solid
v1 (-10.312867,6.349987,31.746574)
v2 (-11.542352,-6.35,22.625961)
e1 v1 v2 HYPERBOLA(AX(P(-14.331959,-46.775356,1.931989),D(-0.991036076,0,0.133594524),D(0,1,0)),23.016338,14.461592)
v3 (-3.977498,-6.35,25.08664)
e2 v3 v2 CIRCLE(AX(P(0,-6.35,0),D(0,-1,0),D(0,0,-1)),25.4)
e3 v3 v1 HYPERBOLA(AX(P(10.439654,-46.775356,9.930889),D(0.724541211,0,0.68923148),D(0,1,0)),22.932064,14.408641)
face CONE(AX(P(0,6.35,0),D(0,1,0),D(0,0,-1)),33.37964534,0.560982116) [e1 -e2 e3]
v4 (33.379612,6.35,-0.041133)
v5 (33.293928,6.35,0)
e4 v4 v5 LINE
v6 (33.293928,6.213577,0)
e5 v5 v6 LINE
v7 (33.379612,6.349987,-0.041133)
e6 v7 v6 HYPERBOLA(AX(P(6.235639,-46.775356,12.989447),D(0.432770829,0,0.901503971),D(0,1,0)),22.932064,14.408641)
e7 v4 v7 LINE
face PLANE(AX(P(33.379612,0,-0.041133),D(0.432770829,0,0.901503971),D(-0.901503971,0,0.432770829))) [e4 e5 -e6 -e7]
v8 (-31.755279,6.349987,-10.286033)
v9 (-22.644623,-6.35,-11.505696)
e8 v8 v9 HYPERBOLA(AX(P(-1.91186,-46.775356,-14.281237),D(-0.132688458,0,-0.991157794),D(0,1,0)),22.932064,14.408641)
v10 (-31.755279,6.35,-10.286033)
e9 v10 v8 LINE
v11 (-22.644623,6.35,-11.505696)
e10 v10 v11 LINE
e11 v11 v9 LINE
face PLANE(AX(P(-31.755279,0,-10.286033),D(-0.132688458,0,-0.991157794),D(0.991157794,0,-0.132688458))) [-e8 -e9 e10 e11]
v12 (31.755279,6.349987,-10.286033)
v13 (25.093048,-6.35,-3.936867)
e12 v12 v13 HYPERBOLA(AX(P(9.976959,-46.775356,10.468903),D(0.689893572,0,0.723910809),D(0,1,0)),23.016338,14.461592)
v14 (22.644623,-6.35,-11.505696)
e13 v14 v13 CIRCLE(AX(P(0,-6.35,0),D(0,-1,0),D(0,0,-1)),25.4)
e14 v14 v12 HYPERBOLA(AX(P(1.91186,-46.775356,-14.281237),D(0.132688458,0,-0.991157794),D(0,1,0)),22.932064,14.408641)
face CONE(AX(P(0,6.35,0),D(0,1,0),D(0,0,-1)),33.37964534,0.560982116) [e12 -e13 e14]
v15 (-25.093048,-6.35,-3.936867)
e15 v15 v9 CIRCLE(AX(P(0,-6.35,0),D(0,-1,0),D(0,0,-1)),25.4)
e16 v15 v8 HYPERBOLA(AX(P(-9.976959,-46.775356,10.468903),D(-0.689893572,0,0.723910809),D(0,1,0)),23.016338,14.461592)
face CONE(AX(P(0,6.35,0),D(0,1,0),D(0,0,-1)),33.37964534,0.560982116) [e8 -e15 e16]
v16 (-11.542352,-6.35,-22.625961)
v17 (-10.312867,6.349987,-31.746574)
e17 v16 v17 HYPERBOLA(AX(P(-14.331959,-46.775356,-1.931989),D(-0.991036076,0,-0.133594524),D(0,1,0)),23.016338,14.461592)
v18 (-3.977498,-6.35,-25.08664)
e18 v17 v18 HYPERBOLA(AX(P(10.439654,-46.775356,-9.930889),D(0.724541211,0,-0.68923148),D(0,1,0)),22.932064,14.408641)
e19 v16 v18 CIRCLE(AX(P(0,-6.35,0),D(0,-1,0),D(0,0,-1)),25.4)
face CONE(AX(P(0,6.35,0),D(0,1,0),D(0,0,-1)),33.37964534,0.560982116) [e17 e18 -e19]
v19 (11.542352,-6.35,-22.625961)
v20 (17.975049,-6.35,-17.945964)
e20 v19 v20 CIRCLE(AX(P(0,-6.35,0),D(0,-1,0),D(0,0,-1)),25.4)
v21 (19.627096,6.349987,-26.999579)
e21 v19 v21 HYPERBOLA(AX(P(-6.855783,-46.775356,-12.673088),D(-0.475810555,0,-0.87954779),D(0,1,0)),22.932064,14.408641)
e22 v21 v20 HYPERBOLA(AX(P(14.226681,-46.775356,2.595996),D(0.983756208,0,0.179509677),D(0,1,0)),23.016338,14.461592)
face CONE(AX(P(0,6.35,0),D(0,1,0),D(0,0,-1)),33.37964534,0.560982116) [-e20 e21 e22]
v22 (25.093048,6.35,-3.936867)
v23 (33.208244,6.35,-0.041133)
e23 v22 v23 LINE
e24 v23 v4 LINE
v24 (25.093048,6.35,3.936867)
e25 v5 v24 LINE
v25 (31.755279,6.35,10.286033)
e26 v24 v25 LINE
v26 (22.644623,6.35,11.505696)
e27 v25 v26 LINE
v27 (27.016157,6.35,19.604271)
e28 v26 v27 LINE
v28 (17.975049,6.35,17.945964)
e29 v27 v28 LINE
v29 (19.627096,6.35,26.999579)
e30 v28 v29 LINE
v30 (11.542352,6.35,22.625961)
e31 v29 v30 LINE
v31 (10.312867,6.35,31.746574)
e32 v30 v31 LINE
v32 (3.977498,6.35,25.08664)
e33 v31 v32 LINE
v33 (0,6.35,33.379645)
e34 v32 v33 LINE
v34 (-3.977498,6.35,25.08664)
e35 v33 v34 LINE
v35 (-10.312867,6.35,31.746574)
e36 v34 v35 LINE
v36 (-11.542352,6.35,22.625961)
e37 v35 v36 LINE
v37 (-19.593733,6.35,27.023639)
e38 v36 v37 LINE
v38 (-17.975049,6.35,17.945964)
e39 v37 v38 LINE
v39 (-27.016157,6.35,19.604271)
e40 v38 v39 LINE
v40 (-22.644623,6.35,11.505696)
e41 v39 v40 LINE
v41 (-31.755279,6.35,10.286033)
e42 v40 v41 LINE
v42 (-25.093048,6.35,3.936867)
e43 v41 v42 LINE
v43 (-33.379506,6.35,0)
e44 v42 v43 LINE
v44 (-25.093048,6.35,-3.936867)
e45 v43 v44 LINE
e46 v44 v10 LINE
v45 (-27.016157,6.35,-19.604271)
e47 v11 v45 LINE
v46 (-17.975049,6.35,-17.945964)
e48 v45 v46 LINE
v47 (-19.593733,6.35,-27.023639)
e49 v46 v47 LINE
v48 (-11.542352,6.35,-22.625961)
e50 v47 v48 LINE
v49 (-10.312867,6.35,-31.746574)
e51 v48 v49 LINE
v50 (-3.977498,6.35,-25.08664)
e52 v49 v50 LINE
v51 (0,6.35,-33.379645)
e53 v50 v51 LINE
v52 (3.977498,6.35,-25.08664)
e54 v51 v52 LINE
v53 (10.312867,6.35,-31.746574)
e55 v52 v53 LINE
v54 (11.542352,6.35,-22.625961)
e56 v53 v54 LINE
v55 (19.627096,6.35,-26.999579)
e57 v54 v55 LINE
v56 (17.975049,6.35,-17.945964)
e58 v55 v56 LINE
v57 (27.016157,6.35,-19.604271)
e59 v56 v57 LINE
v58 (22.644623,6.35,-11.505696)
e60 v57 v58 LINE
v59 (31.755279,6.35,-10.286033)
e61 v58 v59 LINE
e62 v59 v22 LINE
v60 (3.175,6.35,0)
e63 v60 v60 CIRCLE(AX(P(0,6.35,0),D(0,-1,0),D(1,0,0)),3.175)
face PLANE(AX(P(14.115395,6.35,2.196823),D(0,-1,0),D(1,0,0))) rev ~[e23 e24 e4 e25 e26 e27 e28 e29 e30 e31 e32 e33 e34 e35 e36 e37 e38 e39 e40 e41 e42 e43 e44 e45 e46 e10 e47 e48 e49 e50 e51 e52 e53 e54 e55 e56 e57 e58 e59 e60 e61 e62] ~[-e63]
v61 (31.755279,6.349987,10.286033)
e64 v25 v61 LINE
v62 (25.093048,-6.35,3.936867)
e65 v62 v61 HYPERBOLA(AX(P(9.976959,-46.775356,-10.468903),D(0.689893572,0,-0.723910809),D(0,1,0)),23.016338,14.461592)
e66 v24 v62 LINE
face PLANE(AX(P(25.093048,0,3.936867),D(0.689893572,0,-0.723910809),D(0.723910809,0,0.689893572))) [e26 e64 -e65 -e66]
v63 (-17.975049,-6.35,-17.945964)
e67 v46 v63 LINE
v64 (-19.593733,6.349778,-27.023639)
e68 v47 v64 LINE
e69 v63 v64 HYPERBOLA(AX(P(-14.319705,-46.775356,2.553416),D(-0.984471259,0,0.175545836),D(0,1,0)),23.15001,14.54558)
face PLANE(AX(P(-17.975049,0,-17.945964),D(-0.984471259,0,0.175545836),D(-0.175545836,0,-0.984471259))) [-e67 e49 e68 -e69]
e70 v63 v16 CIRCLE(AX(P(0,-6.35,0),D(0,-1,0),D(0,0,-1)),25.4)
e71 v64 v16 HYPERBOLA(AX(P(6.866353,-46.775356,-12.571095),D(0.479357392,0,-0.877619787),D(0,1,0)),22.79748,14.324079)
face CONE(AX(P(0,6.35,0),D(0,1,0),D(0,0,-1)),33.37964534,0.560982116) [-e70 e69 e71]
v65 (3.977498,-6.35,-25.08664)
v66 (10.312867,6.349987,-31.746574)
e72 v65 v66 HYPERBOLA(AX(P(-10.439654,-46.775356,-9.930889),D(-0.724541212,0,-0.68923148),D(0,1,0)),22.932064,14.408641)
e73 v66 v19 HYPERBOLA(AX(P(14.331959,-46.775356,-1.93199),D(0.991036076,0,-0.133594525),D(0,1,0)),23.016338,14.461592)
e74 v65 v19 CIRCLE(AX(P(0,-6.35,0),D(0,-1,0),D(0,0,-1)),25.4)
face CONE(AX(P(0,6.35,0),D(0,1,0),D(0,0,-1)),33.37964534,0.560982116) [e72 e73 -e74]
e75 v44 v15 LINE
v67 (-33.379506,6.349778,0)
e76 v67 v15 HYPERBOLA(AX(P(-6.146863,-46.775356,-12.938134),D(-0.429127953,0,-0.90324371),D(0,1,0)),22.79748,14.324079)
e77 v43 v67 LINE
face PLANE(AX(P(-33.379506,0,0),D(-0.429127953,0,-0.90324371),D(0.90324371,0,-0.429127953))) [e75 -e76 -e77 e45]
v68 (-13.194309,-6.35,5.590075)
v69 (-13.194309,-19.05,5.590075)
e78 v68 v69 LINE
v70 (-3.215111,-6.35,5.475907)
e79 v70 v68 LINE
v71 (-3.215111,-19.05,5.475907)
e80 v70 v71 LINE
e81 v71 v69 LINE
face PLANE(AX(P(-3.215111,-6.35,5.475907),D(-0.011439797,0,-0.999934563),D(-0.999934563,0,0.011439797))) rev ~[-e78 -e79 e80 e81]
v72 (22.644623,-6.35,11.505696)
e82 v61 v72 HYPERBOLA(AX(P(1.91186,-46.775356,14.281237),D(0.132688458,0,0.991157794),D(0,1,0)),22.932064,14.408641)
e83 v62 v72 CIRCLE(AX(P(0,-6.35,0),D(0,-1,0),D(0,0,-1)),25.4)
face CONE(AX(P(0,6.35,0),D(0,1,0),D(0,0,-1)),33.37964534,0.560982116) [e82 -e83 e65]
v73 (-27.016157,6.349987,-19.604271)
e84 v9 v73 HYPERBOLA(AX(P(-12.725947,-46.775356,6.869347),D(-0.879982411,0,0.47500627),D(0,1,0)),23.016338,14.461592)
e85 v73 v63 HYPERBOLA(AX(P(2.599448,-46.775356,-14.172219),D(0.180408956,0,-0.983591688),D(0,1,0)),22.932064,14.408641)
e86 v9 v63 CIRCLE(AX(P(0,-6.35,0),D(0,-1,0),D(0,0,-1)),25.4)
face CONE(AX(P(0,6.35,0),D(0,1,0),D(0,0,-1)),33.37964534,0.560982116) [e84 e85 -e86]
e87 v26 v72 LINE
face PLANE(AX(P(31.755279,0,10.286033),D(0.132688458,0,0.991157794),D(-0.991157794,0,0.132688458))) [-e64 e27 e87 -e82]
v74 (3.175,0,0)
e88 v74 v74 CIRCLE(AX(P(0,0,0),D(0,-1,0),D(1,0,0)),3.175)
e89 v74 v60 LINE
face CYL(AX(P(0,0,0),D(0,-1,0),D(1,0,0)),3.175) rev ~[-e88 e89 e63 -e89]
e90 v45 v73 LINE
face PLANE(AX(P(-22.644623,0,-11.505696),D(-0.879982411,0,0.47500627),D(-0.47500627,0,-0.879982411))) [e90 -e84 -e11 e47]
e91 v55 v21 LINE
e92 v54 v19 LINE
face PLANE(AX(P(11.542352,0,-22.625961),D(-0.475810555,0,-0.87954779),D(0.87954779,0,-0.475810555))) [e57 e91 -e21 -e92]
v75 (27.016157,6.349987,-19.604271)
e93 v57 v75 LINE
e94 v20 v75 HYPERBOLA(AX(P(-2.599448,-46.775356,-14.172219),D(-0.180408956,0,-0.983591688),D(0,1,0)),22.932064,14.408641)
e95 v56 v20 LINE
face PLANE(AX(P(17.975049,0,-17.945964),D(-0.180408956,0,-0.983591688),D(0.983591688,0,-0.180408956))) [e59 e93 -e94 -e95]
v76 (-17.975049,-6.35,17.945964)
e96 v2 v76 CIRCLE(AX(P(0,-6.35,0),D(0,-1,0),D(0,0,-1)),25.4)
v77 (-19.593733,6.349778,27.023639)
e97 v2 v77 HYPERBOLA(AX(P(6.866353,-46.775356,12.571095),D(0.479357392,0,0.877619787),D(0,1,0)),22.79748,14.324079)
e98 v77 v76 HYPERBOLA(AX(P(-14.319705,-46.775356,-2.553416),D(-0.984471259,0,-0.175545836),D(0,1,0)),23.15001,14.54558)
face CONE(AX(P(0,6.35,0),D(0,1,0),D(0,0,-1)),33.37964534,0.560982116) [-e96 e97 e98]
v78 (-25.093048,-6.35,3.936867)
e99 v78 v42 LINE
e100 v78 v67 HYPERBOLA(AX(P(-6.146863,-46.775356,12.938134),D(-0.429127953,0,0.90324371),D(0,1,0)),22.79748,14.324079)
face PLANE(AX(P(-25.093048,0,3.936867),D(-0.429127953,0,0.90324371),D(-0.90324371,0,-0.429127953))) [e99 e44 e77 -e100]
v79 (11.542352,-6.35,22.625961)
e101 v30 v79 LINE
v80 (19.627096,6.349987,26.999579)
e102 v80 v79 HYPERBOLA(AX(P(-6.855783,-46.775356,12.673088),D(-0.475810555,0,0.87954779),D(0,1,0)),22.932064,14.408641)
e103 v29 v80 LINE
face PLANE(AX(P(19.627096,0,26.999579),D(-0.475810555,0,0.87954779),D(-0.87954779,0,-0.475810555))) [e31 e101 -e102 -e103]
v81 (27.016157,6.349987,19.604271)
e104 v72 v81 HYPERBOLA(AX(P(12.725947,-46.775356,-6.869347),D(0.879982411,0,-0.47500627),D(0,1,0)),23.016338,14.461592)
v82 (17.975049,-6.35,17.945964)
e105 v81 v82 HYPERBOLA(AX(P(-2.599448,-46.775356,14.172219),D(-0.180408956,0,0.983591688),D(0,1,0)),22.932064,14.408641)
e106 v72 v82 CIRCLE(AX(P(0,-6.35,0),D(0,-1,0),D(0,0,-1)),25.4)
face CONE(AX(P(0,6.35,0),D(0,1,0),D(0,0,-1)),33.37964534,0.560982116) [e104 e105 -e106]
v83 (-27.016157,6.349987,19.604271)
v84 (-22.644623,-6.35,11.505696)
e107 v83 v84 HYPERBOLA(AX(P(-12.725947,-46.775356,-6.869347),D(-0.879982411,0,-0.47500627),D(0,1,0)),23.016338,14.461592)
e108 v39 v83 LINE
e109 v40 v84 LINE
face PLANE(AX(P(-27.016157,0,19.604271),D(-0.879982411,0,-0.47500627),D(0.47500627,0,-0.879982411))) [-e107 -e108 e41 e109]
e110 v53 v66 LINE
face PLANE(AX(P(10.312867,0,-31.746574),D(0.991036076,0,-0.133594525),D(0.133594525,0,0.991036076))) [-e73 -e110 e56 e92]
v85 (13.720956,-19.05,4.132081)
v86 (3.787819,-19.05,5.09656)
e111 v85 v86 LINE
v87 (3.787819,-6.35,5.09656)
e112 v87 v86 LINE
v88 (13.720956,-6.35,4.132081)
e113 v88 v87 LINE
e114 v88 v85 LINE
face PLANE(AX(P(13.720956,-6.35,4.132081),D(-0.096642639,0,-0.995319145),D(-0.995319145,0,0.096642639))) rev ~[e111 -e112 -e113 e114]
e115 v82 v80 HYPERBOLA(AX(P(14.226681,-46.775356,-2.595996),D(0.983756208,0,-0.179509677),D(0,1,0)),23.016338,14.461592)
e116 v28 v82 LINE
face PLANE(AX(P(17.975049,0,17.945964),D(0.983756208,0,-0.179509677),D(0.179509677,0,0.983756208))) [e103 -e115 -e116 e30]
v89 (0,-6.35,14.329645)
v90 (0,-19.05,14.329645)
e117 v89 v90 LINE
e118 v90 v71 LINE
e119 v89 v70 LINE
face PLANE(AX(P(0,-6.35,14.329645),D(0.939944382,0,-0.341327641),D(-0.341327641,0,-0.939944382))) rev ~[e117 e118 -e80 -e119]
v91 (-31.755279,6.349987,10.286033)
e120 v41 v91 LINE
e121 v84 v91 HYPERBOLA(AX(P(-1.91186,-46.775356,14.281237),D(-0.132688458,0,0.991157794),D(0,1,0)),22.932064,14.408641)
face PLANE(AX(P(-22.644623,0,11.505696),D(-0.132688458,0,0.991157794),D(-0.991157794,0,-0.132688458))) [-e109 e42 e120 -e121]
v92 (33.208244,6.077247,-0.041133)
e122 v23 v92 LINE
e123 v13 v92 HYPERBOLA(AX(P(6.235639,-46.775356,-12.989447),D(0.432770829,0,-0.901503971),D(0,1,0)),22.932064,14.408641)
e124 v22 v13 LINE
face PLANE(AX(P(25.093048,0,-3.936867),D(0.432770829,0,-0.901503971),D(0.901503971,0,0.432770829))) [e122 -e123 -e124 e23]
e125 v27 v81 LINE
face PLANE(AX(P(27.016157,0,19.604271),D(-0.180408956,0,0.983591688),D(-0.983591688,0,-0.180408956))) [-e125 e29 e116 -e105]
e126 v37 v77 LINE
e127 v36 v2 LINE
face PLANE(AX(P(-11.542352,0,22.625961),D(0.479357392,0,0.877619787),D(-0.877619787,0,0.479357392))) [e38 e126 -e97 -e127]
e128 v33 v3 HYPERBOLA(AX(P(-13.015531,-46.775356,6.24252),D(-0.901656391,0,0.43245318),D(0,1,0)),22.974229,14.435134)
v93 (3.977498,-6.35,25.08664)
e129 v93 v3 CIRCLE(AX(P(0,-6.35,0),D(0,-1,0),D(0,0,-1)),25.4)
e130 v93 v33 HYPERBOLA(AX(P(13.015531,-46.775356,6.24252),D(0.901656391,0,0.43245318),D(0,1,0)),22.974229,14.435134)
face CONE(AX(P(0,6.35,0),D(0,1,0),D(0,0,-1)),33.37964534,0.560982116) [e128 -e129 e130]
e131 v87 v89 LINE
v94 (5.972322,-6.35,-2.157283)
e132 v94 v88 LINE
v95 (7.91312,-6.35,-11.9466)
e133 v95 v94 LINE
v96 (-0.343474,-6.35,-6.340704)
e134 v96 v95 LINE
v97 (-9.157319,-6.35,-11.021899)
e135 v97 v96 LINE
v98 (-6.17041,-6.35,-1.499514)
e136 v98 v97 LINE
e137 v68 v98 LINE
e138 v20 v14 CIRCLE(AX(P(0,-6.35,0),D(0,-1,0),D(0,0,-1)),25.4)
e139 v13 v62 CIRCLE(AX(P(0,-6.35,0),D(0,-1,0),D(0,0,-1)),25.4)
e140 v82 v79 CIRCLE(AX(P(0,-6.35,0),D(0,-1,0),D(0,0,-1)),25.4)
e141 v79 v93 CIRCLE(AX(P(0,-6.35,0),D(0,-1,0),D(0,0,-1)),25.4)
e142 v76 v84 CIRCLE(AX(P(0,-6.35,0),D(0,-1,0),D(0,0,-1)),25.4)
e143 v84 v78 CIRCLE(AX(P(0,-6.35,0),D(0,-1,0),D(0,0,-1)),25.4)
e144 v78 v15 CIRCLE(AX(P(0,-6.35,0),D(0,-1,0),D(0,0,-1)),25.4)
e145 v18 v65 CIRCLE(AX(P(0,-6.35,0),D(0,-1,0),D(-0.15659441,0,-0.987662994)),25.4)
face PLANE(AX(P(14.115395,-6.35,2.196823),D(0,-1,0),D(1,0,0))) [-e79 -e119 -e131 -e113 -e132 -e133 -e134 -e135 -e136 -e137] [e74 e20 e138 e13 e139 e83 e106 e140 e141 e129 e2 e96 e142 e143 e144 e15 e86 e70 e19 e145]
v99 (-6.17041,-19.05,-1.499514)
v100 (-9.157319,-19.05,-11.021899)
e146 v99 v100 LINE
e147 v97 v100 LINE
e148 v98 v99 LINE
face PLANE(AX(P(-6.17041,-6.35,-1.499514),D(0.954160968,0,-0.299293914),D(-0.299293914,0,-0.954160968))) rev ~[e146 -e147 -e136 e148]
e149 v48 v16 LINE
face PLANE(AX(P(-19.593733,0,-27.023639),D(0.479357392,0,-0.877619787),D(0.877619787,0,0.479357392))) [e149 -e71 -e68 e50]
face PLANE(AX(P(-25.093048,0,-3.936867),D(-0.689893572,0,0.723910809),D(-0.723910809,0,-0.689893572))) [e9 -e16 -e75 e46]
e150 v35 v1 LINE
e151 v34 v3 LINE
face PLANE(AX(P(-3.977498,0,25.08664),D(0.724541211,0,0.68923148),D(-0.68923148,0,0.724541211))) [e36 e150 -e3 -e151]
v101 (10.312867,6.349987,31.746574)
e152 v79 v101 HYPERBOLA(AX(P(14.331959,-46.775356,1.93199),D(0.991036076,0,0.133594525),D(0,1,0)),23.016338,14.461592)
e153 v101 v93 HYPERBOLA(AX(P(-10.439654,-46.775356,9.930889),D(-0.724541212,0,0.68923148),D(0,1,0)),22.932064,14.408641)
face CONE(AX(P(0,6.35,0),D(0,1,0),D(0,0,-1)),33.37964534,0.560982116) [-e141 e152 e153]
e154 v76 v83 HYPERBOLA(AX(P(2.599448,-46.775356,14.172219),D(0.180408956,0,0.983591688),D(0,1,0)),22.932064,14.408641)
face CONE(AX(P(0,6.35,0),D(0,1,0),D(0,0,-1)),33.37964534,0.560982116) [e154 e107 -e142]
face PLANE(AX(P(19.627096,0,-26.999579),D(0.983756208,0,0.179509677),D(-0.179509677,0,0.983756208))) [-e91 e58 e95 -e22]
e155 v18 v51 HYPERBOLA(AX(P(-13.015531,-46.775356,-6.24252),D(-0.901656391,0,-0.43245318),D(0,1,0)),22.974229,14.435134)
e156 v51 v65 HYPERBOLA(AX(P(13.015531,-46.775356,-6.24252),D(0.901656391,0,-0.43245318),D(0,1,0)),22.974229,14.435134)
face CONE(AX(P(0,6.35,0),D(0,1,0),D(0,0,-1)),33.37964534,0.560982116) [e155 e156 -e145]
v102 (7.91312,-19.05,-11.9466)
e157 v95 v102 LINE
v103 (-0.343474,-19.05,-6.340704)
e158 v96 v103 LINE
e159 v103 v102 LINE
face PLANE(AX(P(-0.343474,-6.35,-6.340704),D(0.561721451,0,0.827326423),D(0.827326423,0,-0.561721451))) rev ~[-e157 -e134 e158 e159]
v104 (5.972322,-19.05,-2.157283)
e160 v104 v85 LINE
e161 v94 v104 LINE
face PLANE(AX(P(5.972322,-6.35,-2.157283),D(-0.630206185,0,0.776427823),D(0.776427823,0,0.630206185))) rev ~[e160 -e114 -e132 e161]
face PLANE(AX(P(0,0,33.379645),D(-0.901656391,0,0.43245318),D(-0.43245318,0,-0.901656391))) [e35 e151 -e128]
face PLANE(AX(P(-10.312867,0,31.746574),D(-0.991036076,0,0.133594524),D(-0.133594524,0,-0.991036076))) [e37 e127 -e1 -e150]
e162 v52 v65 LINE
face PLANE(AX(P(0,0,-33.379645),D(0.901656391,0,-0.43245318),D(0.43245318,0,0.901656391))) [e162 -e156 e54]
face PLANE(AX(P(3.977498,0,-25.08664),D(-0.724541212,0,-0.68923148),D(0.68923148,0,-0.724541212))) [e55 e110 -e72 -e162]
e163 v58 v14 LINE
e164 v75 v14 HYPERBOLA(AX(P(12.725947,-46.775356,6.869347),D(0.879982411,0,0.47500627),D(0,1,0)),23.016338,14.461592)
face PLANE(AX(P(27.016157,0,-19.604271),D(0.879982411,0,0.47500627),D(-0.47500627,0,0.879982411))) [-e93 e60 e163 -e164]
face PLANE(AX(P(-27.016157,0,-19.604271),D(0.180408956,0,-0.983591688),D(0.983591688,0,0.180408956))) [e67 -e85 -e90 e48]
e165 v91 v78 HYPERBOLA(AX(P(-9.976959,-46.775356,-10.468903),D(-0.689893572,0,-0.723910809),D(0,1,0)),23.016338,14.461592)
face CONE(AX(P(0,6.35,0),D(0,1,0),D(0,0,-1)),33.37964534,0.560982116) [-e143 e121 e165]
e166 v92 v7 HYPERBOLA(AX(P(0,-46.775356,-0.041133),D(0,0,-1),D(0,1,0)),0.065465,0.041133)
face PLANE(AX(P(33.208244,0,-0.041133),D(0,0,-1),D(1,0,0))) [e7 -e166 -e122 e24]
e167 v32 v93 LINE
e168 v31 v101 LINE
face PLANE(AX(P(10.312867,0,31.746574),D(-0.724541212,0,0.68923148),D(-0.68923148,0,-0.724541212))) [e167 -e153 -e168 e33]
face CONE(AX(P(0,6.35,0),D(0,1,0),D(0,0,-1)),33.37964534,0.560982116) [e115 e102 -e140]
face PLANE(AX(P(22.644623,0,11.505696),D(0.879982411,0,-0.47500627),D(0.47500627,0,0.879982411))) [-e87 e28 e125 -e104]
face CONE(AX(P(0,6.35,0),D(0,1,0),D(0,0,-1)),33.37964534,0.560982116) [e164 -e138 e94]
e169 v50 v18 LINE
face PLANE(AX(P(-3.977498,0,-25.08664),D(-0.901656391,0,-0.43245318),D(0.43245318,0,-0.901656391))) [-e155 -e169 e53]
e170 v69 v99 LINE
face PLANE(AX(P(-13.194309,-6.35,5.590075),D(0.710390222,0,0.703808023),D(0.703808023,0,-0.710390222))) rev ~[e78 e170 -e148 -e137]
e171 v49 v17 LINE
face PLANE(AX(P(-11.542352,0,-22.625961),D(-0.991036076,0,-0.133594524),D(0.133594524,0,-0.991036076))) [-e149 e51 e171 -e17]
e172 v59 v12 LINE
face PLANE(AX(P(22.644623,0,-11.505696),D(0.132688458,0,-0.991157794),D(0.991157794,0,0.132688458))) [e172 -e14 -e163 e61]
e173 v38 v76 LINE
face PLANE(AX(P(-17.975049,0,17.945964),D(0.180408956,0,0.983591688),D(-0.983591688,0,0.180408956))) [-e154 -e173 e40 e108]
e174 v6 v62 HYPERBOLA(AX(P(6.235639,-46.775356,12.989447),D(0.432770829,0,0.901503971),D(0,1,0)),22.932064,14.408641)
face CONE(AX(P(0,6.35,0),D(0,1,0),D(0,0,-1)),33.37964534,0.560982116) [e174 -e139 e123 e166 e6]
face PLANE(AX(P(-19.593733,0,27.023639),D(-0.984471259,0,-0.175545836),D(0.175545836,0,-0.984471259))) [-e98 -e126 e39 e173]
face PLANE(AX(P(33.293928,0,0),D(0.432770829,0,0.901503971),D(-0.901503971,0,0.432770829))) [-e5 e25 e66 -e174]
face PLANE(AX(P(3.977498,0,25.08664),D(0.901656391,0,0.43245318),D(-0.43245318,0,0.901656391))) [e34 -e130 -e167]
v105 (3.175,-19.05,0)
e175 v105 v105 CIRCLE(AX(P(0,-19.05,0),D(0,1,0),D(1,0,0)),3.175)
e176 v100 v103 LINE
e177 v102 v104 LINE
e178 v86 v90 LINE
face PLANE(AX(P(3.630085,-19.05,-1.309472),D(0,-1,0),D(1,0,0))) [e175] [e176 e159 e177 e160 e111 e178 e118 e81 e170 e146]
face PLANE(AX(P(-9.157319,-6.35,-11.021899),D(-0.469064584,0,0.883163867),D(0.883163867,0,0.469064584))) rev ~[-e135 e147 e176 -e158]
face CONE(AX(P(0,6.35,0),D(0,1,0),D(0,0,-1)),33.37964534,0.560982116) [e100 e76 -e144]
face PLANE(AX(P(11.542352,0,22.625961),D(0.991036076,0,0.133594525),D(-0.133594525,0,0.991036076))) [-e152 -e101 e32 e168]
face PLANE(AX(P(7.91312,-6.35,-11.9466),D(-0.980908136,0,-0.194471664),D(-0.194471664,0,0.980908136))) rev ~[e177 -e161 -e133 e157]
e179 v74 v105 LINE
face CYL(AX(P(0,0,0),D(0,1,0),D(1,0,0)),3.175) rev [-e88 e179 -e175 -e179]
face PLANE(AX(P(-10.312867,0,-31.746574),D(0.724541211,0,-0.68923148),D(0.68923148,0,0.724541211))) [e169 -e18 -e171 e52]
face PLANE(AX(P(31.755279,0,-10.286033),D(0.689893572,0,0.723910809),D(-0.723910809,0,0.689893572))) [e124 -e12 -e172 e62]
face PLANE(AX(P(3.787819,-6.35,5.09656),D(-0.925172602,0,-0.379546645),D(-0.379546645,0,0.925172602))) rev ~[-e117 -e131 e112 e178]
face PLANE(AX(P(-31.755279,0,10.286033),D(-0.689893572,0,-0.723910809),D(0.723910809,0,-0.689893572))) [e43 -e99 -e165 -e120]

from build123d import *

# Parameters (mm, degrees)
F1_DEPTH = 6.35
F6_DEPTH = 12.7
F5_R     = 3.175
F7_DEPTH = 63.5


with BuildPart() as f1:
    # F0 (on Front) → F1 (new body, symmetric)
    with BuildSketch(Plane.XZ):
        with BuildLine():
            ThreePointArc((25.3999666944, -0.0411329817), (25.3999916736, -0.0205664976), (25.4, 0))
            ThreePointArc((25.4, 0), (25.3231458192, 1.9744077138), (25.0930483606, 3.9368672789))
            ThreePointArc((25.0930483606, 3.9368672789), (24.706334539, 5.8955096173), (24.1669838755, 7.8177292331))
            Line((24.1669838755, 7.8177292331), (0.0326778328, -0.0326249568))
            Line((0.0326778328, -0.0326249568), (0.0299255888, -0.0411329817))
            Line((0.0299255888, -0.0411329817), (25.3999666944, -0.0411329817))
        make_face()
        with BuildLine():
            ThreePointArc((25.0930483606, 3.9368672789), (25.3231458192, 1.9744077138), (25.4, 0))
            ThreePointArc((25.4, 0), (25.3999916736, -0.0205664976), (25.3999666944, -0.0411329817))
            Line((25.3999666944, -0.0411329817), (33.2082439851, -0.0411329817))
            Line((33.2082439851, -0.0411329817), (33.2939280097, 0))
            Line((33.2939280097, 0), (25.0930483606, 3.9368672789))
        make_face()
        with BuildLine():
            ThreePointArc((24.1669838755, 7.8177292331), (24.706334539, 5.8955096173), (25.0930483606, 3.9368672789))
            Line((25.0930483606, 3.9368672789), (31.7552785313, 10.2860330974))
            Line((31.7552785313, 10.2860330974), (24.1669838755, 7.8177292331))
        make_face()
        with BuildLine():
            Line((33.2082439851, -0.0411329817), (25.3999666944, -0.0411329817))
            ThreePointArc((25.3999666944, -0.0411329817), (25.3215388309, -1.994911335), (25.0930483606, -3.9368672789))
            Line((25.0930483606, -3.9368672789), (33.2082439851, -0.0411329817))
        make_face()
        with BuildLine():
            ThreePointArc((25.0930483606, -3.9368672789), (25.3215388309, -1.994911335), (25.3999666944, -0.0411329817))
            Line((25.3999666944, -0.0411329817), (0.0299255888, -0.0411329817))
            Line((0.0299255888, -0.0411329817), (0.0264556072, -0.0518597526))
            Line((0.0264556072, -0.0518597526), (24.1415369557, -7.895960576))
            ThreePointArc((24.1415369557, -7.895960576), (24.6967549032, -5.9355115407), (25.0930483606, -3.9368672789))
        make_face()
        with BuildLine():
            Line((0.0326778328, -0.0326249568), (24.1669838755, 7.8177292331))
            ThreePointArc((24.1669838755, 7.8177292331), (23.4783285027, 9.6916505673), (22.6446229644, 11.5056964501))
            ThreePointArc((22.6446229644, 11.5056964501), (21.6710179307, 13.2486596246), (20.5635283771, 14.9097719863))
            Line((20.5635283771, 14.9097719863), (0.0350181754, -0.0253902444))
            Line((0.0350181754, -0.0253902444), (0.0326778328, -0.0326249568))
        make_face()
        with BuildLine():
            ThreePointArc((22.6446229644, 11.5056964501), (23.4783285027, 9.6916505673), (24.1669838755, 7.8177292331))
            Line((24.1669838755, 7.8177292331), (31.7552785313, 10.2860330974))
            Line((31.7552785313, 10.2860330974), (22.6446229644, 11.5056964501))
        make_face()
        Polygon((33.3796120343, -0.0411329817), (33.2939280097, 0), (33.2082439851, -0.0411329817), align=None)
        with BuildLine():
            Line((31.7552785313, -10.2860330974), (25.0930483606, -3.9368672789))
            ThreePointArc((25.0930483606, -3.9368672789), (24.6967549032, -5.9355115407), (24.1415369557, -7.895960576))
            ThreePointArc((24.1415369557, -7.895960576), (23.4626029734, -9.7296588694), (22.6446229644, -11.5056964501))
            Line((22.6446229644, -11.5056964501), (31.7552785313, -10.2860330974))
        make_face()
        with BuildLine():
            ThreePointArc((20.5635283771, 14.9097719863), (21.6710179307, 13.2486596246), (22.6446229644, 11.5056964501))
            Line((22.6446229644, 11.5056964501), (27.0161574965, 19.6042705962))
            Line((27.0161574965, 19.6042705962), (20.5635283771, 14.9097719863))
        make_face()
        with BuildLine():
            ThreePointArc((22.6446229644, -11.5056964501), (23.4626029734, -9.7296588694), (24.1415369557, -7.895960576))
            Line((24.1415369557, -7.895960576), (0.0264556072, -0.0518597526))
            Line((0.0264556072, -0.0518597526), (0.0216754409, -0.0666367035))
            Line((0.0216754409, -0.0666367035), (20.5151305555, -14.9762952125))
            ThreePointArc((20.5151305555, -14.9762952125), (21.6495345196, -13.283736488), (22.6446229644, -11.5056964501))
        make_face()
        with BuildLine():
            Line((0.0350181754, -0.0253902444), (20.5635283771, 14.9097719863))
            ThreePointArc((20.5635283771, 14.9097719863), (19.3289964238, 16.4787711086), (17.9750490644, 17.9459636446))
            ThreePointArc((17.9750490644, 17.9459636446), (16.5100510465, 19.302285213), (14.9430531934, 20.5393563984))
            Line((14.9430531934, 20.5393563984), (0.0371289603, -0.0188651649))
            Line((0.0371289603, -0.0188651649), (0.0350181754, -0.0253902444))
        make_face()
        with BuildLine():
            ThreePointArc((17.9750490644, 17.9459636446), (19.3289964238, 16.4787711086), (20.5635283771, 14.9097719863))
            Line((20.5635283771, 14.9097719863), (27.0161574965, 19.6042705962))
            Line((27.0161574965, 19.6042705962), (17.9750490644, 17.9459636446))
        make_face()
        with BuildLine():
            Line((27.0161574965, -19.6042705962), (22.6446229644, -11.5056964501))
            ThreePointArc((22.6446229644, -11.5056964501), (21.6495345196, -13.283736488), (20.5151305555, -14.9762952125))
            ThreePointArc((20.5151305555, -14.9762952125), (19.302285213, -16.5100510465), (17.9750490644, -17.9459636446))
            Line((17.9750490644, -17.9459636446), (27.0161574965, -19.6042705962))
        make_face()
        with BuildLine():
            Line((20.5151305555, -14.9762952125), (0.0216754409, -0.0666367035))
            Line((0.0216754409, -0.0666367035), (0.0142195958, -0.0896849932))
            Line((0.0142195958, -0.0896849932), (14.8764516786, -20.5876464282))
            ThreePointArc((14.8764516786, -20.5876464282), (16.4787711086, -19.3289964238), (17.9750490644, -17.9459636446))
            ThreePointArc((17.9750490644, -17.9459636446), (19.302285213, -16.5100510465), (20.5151305555, -14.9762952125))
        make_face()
        with BuildLine():
            ThreePointArc((14.9430531934, 20.5393563984), (16.5100510465, 19.302285213), (17.9750490644, 17.9459636446))
            Line((17.9750490644, 17.9459636446), (19.6270962066, 26.9995793667))
            Line((19.6270962066, 26.9995793667), (14.9430531934, 20.5393563984))
        make_face()
        with BuildLine():
            Line((0.0294725544, -0.0294248649), (0.0371289603, -0.0188651649))
            Line((0.0371289603, -0.0188651649), (7.8568552068, 24.1542920877))
            ThreePointArc((7.8568552068, 24.1542920877), (5.9355115407, 24.6967549032), (3.9774980183, 25.0866400603))
            ThreePointArc((3.9774980183, 25.0866400603), (1.994911335, 25.3215388309), (0, 25.4))
            Line((0, 25.4), (-0.041143489, -0.006455033))
            Line((-0.041143489, -0.006455033), (-0.0371289603, -0.0188651649))
            Line((-0.0371289603, -0.0188651649), (-0.0294725544, -0.0294248649))
            Line((-0.0294725544, -0.0294248649), (-0.0189252671, -0.0370983612))
            Line((-0.0189252671, -0.0370983612), (-0.0065216527, -0.0411329817))
            Line((-0.0065216527, -0.0411329817), (0.0065216527, -0.0411329817))
            Line((0.0065216527, -0.0411329817), (0.0189252671, -0.0370983612))
            Line((0.0189252671, -0.0370983612), (0.0294725544, -0.0294248649))
        make_face()
        with BuildLine():
            Line((7.8568552068, 24.1542920877), (0.0371289603, -0.0188651649))
            Line((0.0371289603, -0.0188651649), (14.9430531934, 20.5393563984))
            ThreePointArc((14.9430531934, 20.5393563984), (13.283736488, 21.6495345196), (11.5423522634, 22.6259608465))
            ThreePointArc((11.5423522634, 22.6259608465), (9.7296588694, 23.4626029734), (7.8568552068, 24.1542920877))
        make_face()
        with BuildLine():
            Line((14.8764516786, -20.5876464282), (0.0142195958, -0.0896849932))
            Line((0.0142195958, -0.0896849932), (0, -0.133642098))
            Line((0, -0.133642098), (7.7785827575, -24.1796122857))
            ThreePointArc((7.7785827575, -24.1796122857), (9.6916505673, -23.4783285027), (11.5423522634, -22.6259608465))
            ThreePointArc((11.5423522634, -22.6259608465), (13.2486596246, -21.6710179307), (14.8764516786, -20.5876464282))
        make_face()
        with BuildLine():
            ThreePointArc((11.5423522634, 22.6259608465), (13.283736488, 21.6495345196), (14.9430531934, 20.5393563984))
            Line((14.9430531934, 20.5393563984), (19.6270962066, 26.9995793667))
            Line((19.6270962066, 26.9995793667), (11.5423522634, 22.6259608465))
        make_face()
        with BuildLine():
            Line((10.3128672742, 31.7465739895), (7.8568552068, 24.1542920877))
            ThreePointArc((7.8568552068, 24.1542920877), (9.7296588694, 23.4626029734), (11.5423522634, 22.6259608465))
            Line((11.5423522634, 22.6259608465), (10.3128672742, 31.7465739895))
        make_face()
        with BuildLine():
            ThreePointArc((3.9774980183, 25.0866400603), (5.9355115407, 24.6967549032), (7.8568552068, 24.1542920877))
            Line((7.8568552068, 24.1542920877), (10.3128672742, 31.7465739895))
            Line((10.3128672742, 31.7465739895), (3.9774980183, 25.0866400603))
        make_face()
        with BuildLine():
            Line((19.6270962066, -26.9995793667), (17.9750490644, -17.9459636446))
            ThreePointArc((17.9750490644, -17.9459636446), (16.4787711086, -19.3289964238), (14.8764516786, -20.5876464282))
            ThreePointArc((14.8764516786, -20.5876464282), (13.2486596246, -21.6710179307), (11.5423522634, -22.6259608465))
            Line((11.5423522634, -22.6259608465), (19.6270962066, -26.9995793667))
        make_face()
        with BuildLine():
            Line((7.7785827575, -24.1796122857), (0, -0.133642098))
            Line((0, -0.133642098), (-0.0415574978, -0.2621089903))
            Line((-0.0415574978, -0.2621089903), (-0.0822658556, -25.3998667778))
            ThreePointArc((-0.0822658556, -25.3998667778), (1.9539027981, -25.3247362051), (3.9774980183, -25.0866400603))
            ThreePointArc((3.9774980183, -25.0866400603), (5.8955096173, -24.706334539), (7.7785827575, -24.1796122857))
        make_face()
        with BuildLine():
            ThreePointArc((0, 25.4), (1.994911335, 25.3215388309), (3.9774980183, 25.0866400603))
            Line((3.9774980183, 25.0866400603), (0, 33.3796453399))
            Line((0, 33.3796453399), (0, 25.4))
        make_face()
        with BuildLine():
            Line((-7.7785827575, -24.1796122857), (-0.0415574978, -0.2621089903))
            Line((-0.0415574978, -0.2621089903), (-0.041338843, -0.1270878059))
            Line((-0.041338843, -0.1270878059), (-14.8764516786, -20.5876464282))
            ThreePointArc((-14.8764516786, -20.5876464282), (-13.2486596246, -21.6710179307), (-11.5423522634, -22.6259608465))
            ThreePointArc((-11.5423522634, -22.6259608465), (-9.6916505673, -23.4783285027), (-7.7785827575, -24.1796122857))
        make_face()
        with BuildLine():
            Line((-0.0822658556, -25.3998667778), (-0.0415574978, -0.2621089903))
            Line((-0.0415574978, -0.2621089903), (-7.7785827575, -24.1796122857))
            ThreePointArc((-7.7785827575, -24.1796122857), (-5.8955096173, -24.706334539), (-3.9774980183, -25.0866400603))
            ThreePointArc((-3.9774980183, -25.0866400603), (-2.0359146402, -25.3182750514), (-0.0822658556, -25.3998667778))
        make_face()
        with BuildLine():
            ThreePointArc((11.5423522634, -22.6259608465), (9.6916505673, -23.4783285027), (7.7785827575, -24.1796122857))
            ThreePointArc((7.7785827575, -24.1796122857), (5.8955096173, -24.706334539), (3.9774980183, -25.0866400603))
            Line((3.9774980183, -25.0866400603), (10.3128672742, -31.7465739895))
            Line((10.3128672742, -31.7465739895), (11.5423522634, -22.6259608465))
        make_face()
        with BuildLine():
            Line((-0.041143489, -0.006455033), (0, 25.4))
            ThreePointArc((0, 25.4), (-1.994911335, 25.3215388309), (-3.9774980183, 25.0866400603))
            ThreePointArc((-3.9774980183, 25.0866400603), (-5.9355115407, 24.6967549032), (-7.8568552068, 24.1542920877))
            Line((-7.8568552068, 24.1542920877), (-0.041143489, -0.006455033))
        make_face()
        with BuildLine():
            ThreePointArc((-3.9774980183, 25.0866400603), (-1.994911335, 25.3215388309), (0, 25.4))
            Line((0, 25.4), (0, 33.3796453399))
            Line((0, 33.3796453399), (-3.9774980183, 25.0866400603))
        make_face()
        with BuildLine():
            Line((-14.8764516786, -20.5876464282), (-0.041338843, -0.1270878059))
            Line((-0.041338843, -0.1270878059), (-0.0412640266, -0.08088804))
            Line((-0.0412640266, -0.08088804), (-20.5151305555, -14.9762952125))
            ThreePointArc((-20.5151305555, -14.9762952125), (-19.302285213, -16.5100510465), (-17.9750490644, -17.9459636446))
            ThreePointArc((-17.9750490644, -17.9459636446), (-16.4787711086, -19.3289964238), (-14.8764516786, -20.5876464282))
        make_face()
        with BuildLine():
            ThreePointArc((3.9774980183, -25.0866400603), (1.9539027981, -25.3247362051), (-0.0822658556, -25.3998667778))
            ThreePointArc((-0.0822658556, -25.3998667778), (-2.0359146402, -25.3182750514), (-3.9774980183, -25.0866400603))
            Line((-3.9774980183, -25.0866400603), (0, -33.3796453399))
            Line((0, -33.3796453399), (3.9774980183, -25.0866400603))
        make_face()
        with BuildLine():
            ThreePointArc((-3.9774980183, -25.0866400603), (-5.8955096173, -24.706334539), (-7.7785827575, -24.1796122857))
            ThreePointArc((-7.7785827575, -24.1796122857), (-9.6916505673, -23.4783285027), (-11.5423522634, -22.6259608465))
            Line((-11.5423522634, -22.6259608465), (-10.3128672794, -31.7465739878))
            Line((-10.3128672794, -31.7465739878), (-3.9774980183, -25.0866400603))
        make_face()
        with BuildLine():
            ThreePointArc((-7.8568552068, 24.1542920877), (-5.9355115407, 24.6967549032), (-3.9774980183, 25.0866400603))
            Line((-3.9774980183, 25.0866400603), (-10.3128672794, 31.7465739878))
            Line((-10.3128672794, 31.7465739878), (-7.8568552068, 24.1542920877))
        make_face()
        with BuildLine():
            Line((-0.0411545949, -0.0133130175), (-0.041143489, -0.006455033))
            Line((-0.041143489, -0.006455033), (-7.8568552068, 24.1542920877))
            ThreePointArc((-7.8568552068, 24.1542920877), (-9.7296588694, 23.4626029734), (-11.5423522634, 22.6259608465))
            ThreePointArc((-11.5423522634, 22.6259608465), (-13.283736488, 21.6495345196), (-14.9430531934, 20.5393563984))
            Line((-14.9430531934, 20.5393563984), (-0.0411545949, -0.0133130175))
        make_face()
        with BuildLine():
            Line((-20.5151305555, -14.9762952125), (-0.0412640266, -0.08088804))
            Line((-0.0412640266, -0.08088804), (-0.0412247977, -0.0566638425))
            Line((-0.0412247977, -0.0566638425), (-24.1415369557, -7.895960576))
            ThreePointArc((-24.1415369557, -7.895960576), (-23.4626029734, -9.7296588694), (-22.6446229644, -11.5056964501))
            ThreePointArc((-22.6446229644, -11.5056964501), (-21.6495345196, -13.283736488), (-20.5151305555, -14.9762952125))
        make_face()
        with BuildLine():
            ThreePointArc((-11.5423522634, -22.6259608465), (-13.2486596246, -21.6710179307), (-14.8764516786, -20.5876464282))
            ThreePointArc((-14.8764516786, -20.5876464282), (-16.4787711086, -19.3289964238), (-17.9750490644, -17.9459636446))
            Line((-17.9750490644, -17.9459636446), (-19.5937332182, -27.0236385527))
            Line((-19.5937332182, -27.0236385527), (-11.5423522634, -22.6259608465))
        make_face()
        with BuildLine():
            ThreePointArc((-11.5423522634, 22.6259608465), (-9.7296588694, 23.4626029734), (-7.8568552068, 24.1542920877))
            Line((-7.8568552068, 24.1542920877), (-10.3128672794, 31.7465739878))
            Line((-10.3128672794, 31.7465739878), (-11.5423522634, 22.6259608465))
        make_face()
        with BuildLine():
            Line((-0.0411669086, -0.02091684), (-0.0411545949, -0.0133130175))
            Line((-0.0411545949, -0.0133130175), (-14.9430531934, 20.5393563984))
            ThreePointArc((-14.9430531934, 20.5393563984), (-16.5100510465, 19.302285213), (-17.9750490644, 17.9459636446))
            ThreePointArc((-17.9750490644, 17.9459636446), (-19.3289964238, 16.4787711086), (-20.5635283771, 14.9097719863))
            Line((-20.5635283771, 14.9097719863), (-0.0411669086, -0.02091684))
        make_face()
        with BuildLine():
            Line((-24.1415369557, -7.895960576), (-0.0412247977, -0.0566638425))
            Line((-0.0412247977, -0.0566638425), (-0.0411996469, -0.0411329817))
            Line((-0.0411996469, -0.0411329817), (-25.3999666944, -0.0411329817))
            ThreePointArc((-25.3999666944, -0.0411329817), (-25.3215388309, -1.994911335), (-25.0930483606, -3.9368672789))
            ThreePointArc((-25.0930483606, -3.9368672789), (-24.6967549032, -5.9355115407), (-24.1415369557, -7.895960576))
        make_face()
        with BuildLine():
            ThreePointArc((-17.9750490644, -17.9459636446), (-19.302285213, -16.5100510465), (-20.5151305555, -14.9762952125))
            ThreePointArc((-20.5151305555, -14.9762952125), (-21.6495345196, -13.283736488), (-22.6446229644, -11.5056964501))
            Line((-22.6446229644, -11.5056964501), (-27.0161574965, -19.6042705962))
            Line((-27.0161574965, -19.6042705962), (-17.9750490644, -17.9459636446))
        make_face()
        with BuildLine():
            Line((-25.3999666944, -0.0411329817), (-0.0411996469, -0.0411329817))
            Line((-0.0411996469, -0.0411329817), (-0.0411813896, -0.0298589385))
            Line((-0.0411813896, -0.0298589385), (-24.1669838755, 7.8177292331))
            ThreePointArc((-24.1669838755, 7.8177292331), (-24.706334539, 5.8955096173), (-25.0930483606, 3.9368672789))
            ThreePointArc((-25.0930483606, 3.9368672789), (-25.3247362051, 1.9539027981), (-25.3999666944, -0.0411329817))
        make_face()
        with BuildLine():
            Line((-24.1669838755, 7.8177292331), (-0.0411813896, -0.0298589385))
            Line((-0.0411813896, -0.0298589385), (-0.0411669086, -0.02091684))
            Line((-0.0411669086, -0.02091684), (-20.5635283771, 14.9097719863))
            ThreePointArc((-20.5635283771, 14.9097719863), (-21.6710179307, 13.2486596246), (-22.6446229644, 11.5056964501))
            ThreePointArc((-22.6446229644, 11.5056964501), (-23.4783285027, 9.6916505673), (-24.1669838755, 7.8177292331))
        make_face()
        with BuildLine():
            ThreePointArc((-14.9430531934, 20.5393563984), (-13.283736488, 21.6495345196), (-11.5423522634, 22.6259608465))
            Line((-11.5423522634, 22.6259608465), (-19.5937332182, 27.0236385527))
            Line((-19.5937332182, 27.0236385527), (-14.9430531934, 20.5393563984))
        make_face()
        with BuildLine():
            ThreePointArc((-17.9750490644, 17.9459636446), (-16.5100510465, 19.302285213), (-14.9430531934, 20.5393563984))
            Line((-14.9430531934, 20.5393563984), (-19.5937332182, 27.0236385527))
            Line((-19.5937332182, 27.0236385527), (-17.9750490644, 17.9459636446))
        make_face()
        with BuildLine():
            ThreePointArc((-22.6446229644, -11.5056964501), (-23.4626029734, -9.7296588694), (-24.1415369557, -7.895960576))
            ThreePointArc((-24.1415369557, -7.895960576), (-24.6967549032, -5.9355115407), (-25.0930483606, -3.9368672789))
            Line((-25.0930483606, -3.9368672789), (-31.7552785313, -10.2860330974))
            Line((-31.7552785313, -10.2860330974), (-22.6446229644, -11.5056964501))
        make_face()
        with BuildLine():
            Line((-33.3795060187, 0), (-25.3999666944, -0.0411329817))
            ThreePointArc((-25.3999666944, -0.0411329817), (-25.3247362051, 1.9539027981), (-25.0930483606, 3.9368672789))
            Line((-25.0930483606, 3.9368672789), (-33.3795060187, 0))
        make_face()
        with BuildLine():
            ThreePointArc((-25.0930483606, -3.9368672789), (-25.3215388309, -1.994911335), (-25.3999666944, -0.0411329817))
            Line((-25.3999666944, -0.0411329817), (-33.3795060187, 0))
            Line((-33.3795060187, 0), (-25.0930483606, -3.9368672789))
        make_face()
        with BuildLine():
            Line((-31.7552785313, 10.2860330974), (-24.1669838755, 7.8177292331))
            ThreePointArc((-24.1669838755, 7.8177292331), (-23.4783285027, 9.6916505673), (-22.6446229644, 11.5056964501))
            Line((-22.6446229644, 11.5056964501), (-31.7552785313, 10.2860330974))
        make_face()
        with BuildLine():
            ThreePointArc((-25.0930483606, 3.9368672789), (-24.706334539, 5.8955096173), (-24.1669838755, 7.8177292331))
            Line((-24.1669838755, 7.8177292331), (-31.7552785313, 10.2860330974))
            Line((-31.7552785313, 10.2860330974), (-25.0930483606, 3.9368672789))
        make_face()
        with BuildLine():
            Line((-27.0161574965, 19.6042705962), (-20.5635283771, 14.9097719863))
            ThreePointArc((-20.5635283771, 14.9097719863), (-19.3289964238, 16.4787711086), (-17.9750490644, 17.9459636446))
            Line((-17.9750490644, 17.9459636446), (-27.0161574965, 19.6042705962))
        make_face()
        with BuildLine():
            ThreePointArc((-22.6446229644, 11.5056964501), (-21.6710179307, 13.2486596246), (-20.5635283771, 14.9097719863))
            Line((-20.5635283771, 14.9097719863), (-27.0161574965, 19.6042705962))
            Line((-27.0161574965, 19.6042705962), (-22.6446229644, 11.5056964501))
        make_face()
    extrude(amount=F1_DEPTH, both=True)

    # F2 (on Right) → F3 (revolve, cut)
    with BuildSketch(Plane.YZ):
        Polygon((-6.35, -33.3796453399), (0, -33.3796453399), (6.35, -33.3796453399), (-6.35, -25.4), align=None)
    revolve(axis=Axis((0, -3.175, 0), (0, -1, 0)), mode=Mode.SUBTRACT)

    # F4 (on face) → F6 (join)
    with BuildSketch(Plane.XZ.offset(6.35)):
        with BuildLine():
            ThreePointArc((5.9723219918, -2.1572830195), (6.2548678902, -1.095046883), (6.35, 0))
            ThreePointArc((6.35, 0), (6.282204895, 0.9254197195), (6.0802671946, 1.8310791469))
            Line((6.0802671946, 1.8310791469), (0, 0))
            Line((0, 0), (3.5065985725, -5.2939839867))
            ThreePointArc((3.5065985725, -5.2939839867), (4.9922146394, -3.9243207048), (5.9723219918, -2.1572830195))
        make_face()
        with BuildLine():
            ThreePointArc((6.0802671946, 1.8310791469), (6.282204895, 0.9254197195), (6.35, 0))
            ThreePointArc((6.35, 0), (6.2548678902, -1.095046883), (5.9723219918, -2.1572830195))
            Line((5.9723219918, -2.1572830195), (13.7209562945, 4.1320810653))
            Line((13.7209562945, 4.1320810653), (6.0802671946, 1.8310791469))
        make_face()
        with BuildLine():
            Line((0, 0), (6.0802671946, 1.8310791469))
            ThreePointArc((6.0802671946, 1.8310791469), (5.1971745773, 3.6485444239), (3.787819123, 5.0965602411))
            ThreePointArc((3.787819123, 5.0965602411), (1.994911335, 6.0285013698), (0, 6.35))
            Line((0, 6.35), (0, 0))
        make_face()
        with BuildLine():
            ThreePointArc((3.787819123, 5.0965602411), (5.1971745773, 3.6485444239), (6.0802671946, 1.8310791469))
            Line((6.0802671946, 1.8310791469), (13.7209562945, 4.1320810653))
            Line((13.7209562945, 4.1320810653), (3.787819123, 5.0965602411))
        make_face()
        with BuildLine():
            Line((7.9131202982, -11.9466004668), (5.9723219918, -2.1572830195))
            ThreePointArc((5.9723219918, -2.1572830195), (4.9922146394, -3.9243207048), (3.5065985725, -5.2939839867))
            Line((3.5065985725, -5.2939839867), (7.9131202982, -11.9466004668))
        make_face()
        with BuildLine():
            ThreePointArc((0, 6.35), (1.994911335, 6.0285013698), (3.787819123, 5.0965602411))
            Line((3.787819123, 5.0965602411), (0, 14.3296453399))
            Line((0, 14.3296453399), (0, 6.35))
        make_face()
        with BuildLine():
            Line((-5.8468902963, 2.4771705358), (0, 0))
            Line((0, 0), (0, 6.35))
            ThreePointArc((0, 6.35), (-1.6659063993, 6.1275815677), (-3.2151109751, 5.4759073602))
            ThreePointArc((-3.2151109751, 5.4759073602), (-4.7726378865, 4.188606881), (-5.8468902963, 2.4771705358))
        make_face()
        with BuildLine():
            Line((3.5065985725, -5.2939839867), (0, 0))
            Line((0, 0), (-4.0579492347, -4.8842141649))
            ThreePointArc((-4.0579492347, -4.8842141649), (-2.3180753259, -5.9117701903), (-0.3434744748, -6.3407038478))
            ThreePointArc((-0.3434744748, -6.3407038478), (1.6659063993, -6.1275815677), (3.5065985725, -5.2939839867))
        make_face()
        with BuildLine():
            Line((-4.0579492347, -4.8842141649), (0, 0))
            Line((0, 0), (-5.8468902963, 2.4771705358))
            ThreePointArc((-5.8468902963, 2.4771705358), (-6.3290900379, 0.5148973609), (-6.1704098495, -1.4995140175))
            ThreePointArc((-6.1704098495, -1.4995140175), (-5.3869175937, -3.3620854896), (-4.0579492347, -4.8842141649))
        make_face()
        with BuildLine():
            Line((7.9131202982, -11.9466004668), (3.5065985725, -5.2939839867))
            ThreePointArc((3.5065985725, -5.2939839867), (1.6659063993, -6.1275815677), (-0.3434744748, -6.3407038478))
            Line((-0.3434744748, -6.3407038478), (7.9131202982, -11.9466004668))
        make_face()
        with BuildLine():
            ThreePointArc((-3.2151109751, 5.4759073602), (-1.6659063993, 6.1275815677), (0, 6.35))
            Line((0, 6.35), (0, 14.3296453399))
            Line((0, 14.3296453399), (-3.2151109751, 5.4759073602))
        make_face()
        with BuildLine():
            Line((-9.1573186362, -11.0218987004), (-4.0579492347, -4.8842141649))
            ThreePointArc((-4.0579492347, -4.8842141649), (-5.3869175937, -3.3620854896), (-6.1704098495, -1.4995140175))
            Line((-6.1704098495, -1.4995140175), (-9.1573186362, -11.0218987004))
        make_face()
        with BuildLine():
            ThreePointArc((-0.3434744748, -6.3407038478), (-2.3180753259, -5.9117701903), (-4.0579492347, -4.8842141649))
            Line((-4.0579492347, -4.8842141649), (-9.1573186362, -11.0218987004))
            Line((-9.1573186362, -11.0218987004), (-0.3434744748, -6.3407038478))
        make_face()
        with BuildLine():
            Line((-13.1943093365, 5.5900748385), (-5.8468902963, 2.4771705358))
            ThreePointArc((-5.8468902963, 2.4771705358), (-4.7726378865, 4.188606881), (-3.2151109751, 5.4759073602))
            Line((-3.2151109751, 5.4759073602), (-13.1943093365, 5.5900748385))
        make_face()
        with BuildLine():
            ThreePointArc((-6.1704098495, -1.4995140175), (-6.3290900379, 0.5148973609), (-5.8468902963, 2.4771705358))
            Line((-5.8468902963, 2.4771705358), (-13.1943093365, 5.5900748385))
            Line((-13.1943093365, 5.5900748385), (-6.1704098495, -1.4995140175))
        make_face()
    extrude(amount=F6_DEPTH)

    # F5 (on Front) → F7 (cut, symmetric)
    with BuildSketch(Plane.XZ):
        Circle(F5_R)
    extrude(amount=-F7_DEPTH, both=True, mode=Mode.SUBTRACT)


solid = f1.part
